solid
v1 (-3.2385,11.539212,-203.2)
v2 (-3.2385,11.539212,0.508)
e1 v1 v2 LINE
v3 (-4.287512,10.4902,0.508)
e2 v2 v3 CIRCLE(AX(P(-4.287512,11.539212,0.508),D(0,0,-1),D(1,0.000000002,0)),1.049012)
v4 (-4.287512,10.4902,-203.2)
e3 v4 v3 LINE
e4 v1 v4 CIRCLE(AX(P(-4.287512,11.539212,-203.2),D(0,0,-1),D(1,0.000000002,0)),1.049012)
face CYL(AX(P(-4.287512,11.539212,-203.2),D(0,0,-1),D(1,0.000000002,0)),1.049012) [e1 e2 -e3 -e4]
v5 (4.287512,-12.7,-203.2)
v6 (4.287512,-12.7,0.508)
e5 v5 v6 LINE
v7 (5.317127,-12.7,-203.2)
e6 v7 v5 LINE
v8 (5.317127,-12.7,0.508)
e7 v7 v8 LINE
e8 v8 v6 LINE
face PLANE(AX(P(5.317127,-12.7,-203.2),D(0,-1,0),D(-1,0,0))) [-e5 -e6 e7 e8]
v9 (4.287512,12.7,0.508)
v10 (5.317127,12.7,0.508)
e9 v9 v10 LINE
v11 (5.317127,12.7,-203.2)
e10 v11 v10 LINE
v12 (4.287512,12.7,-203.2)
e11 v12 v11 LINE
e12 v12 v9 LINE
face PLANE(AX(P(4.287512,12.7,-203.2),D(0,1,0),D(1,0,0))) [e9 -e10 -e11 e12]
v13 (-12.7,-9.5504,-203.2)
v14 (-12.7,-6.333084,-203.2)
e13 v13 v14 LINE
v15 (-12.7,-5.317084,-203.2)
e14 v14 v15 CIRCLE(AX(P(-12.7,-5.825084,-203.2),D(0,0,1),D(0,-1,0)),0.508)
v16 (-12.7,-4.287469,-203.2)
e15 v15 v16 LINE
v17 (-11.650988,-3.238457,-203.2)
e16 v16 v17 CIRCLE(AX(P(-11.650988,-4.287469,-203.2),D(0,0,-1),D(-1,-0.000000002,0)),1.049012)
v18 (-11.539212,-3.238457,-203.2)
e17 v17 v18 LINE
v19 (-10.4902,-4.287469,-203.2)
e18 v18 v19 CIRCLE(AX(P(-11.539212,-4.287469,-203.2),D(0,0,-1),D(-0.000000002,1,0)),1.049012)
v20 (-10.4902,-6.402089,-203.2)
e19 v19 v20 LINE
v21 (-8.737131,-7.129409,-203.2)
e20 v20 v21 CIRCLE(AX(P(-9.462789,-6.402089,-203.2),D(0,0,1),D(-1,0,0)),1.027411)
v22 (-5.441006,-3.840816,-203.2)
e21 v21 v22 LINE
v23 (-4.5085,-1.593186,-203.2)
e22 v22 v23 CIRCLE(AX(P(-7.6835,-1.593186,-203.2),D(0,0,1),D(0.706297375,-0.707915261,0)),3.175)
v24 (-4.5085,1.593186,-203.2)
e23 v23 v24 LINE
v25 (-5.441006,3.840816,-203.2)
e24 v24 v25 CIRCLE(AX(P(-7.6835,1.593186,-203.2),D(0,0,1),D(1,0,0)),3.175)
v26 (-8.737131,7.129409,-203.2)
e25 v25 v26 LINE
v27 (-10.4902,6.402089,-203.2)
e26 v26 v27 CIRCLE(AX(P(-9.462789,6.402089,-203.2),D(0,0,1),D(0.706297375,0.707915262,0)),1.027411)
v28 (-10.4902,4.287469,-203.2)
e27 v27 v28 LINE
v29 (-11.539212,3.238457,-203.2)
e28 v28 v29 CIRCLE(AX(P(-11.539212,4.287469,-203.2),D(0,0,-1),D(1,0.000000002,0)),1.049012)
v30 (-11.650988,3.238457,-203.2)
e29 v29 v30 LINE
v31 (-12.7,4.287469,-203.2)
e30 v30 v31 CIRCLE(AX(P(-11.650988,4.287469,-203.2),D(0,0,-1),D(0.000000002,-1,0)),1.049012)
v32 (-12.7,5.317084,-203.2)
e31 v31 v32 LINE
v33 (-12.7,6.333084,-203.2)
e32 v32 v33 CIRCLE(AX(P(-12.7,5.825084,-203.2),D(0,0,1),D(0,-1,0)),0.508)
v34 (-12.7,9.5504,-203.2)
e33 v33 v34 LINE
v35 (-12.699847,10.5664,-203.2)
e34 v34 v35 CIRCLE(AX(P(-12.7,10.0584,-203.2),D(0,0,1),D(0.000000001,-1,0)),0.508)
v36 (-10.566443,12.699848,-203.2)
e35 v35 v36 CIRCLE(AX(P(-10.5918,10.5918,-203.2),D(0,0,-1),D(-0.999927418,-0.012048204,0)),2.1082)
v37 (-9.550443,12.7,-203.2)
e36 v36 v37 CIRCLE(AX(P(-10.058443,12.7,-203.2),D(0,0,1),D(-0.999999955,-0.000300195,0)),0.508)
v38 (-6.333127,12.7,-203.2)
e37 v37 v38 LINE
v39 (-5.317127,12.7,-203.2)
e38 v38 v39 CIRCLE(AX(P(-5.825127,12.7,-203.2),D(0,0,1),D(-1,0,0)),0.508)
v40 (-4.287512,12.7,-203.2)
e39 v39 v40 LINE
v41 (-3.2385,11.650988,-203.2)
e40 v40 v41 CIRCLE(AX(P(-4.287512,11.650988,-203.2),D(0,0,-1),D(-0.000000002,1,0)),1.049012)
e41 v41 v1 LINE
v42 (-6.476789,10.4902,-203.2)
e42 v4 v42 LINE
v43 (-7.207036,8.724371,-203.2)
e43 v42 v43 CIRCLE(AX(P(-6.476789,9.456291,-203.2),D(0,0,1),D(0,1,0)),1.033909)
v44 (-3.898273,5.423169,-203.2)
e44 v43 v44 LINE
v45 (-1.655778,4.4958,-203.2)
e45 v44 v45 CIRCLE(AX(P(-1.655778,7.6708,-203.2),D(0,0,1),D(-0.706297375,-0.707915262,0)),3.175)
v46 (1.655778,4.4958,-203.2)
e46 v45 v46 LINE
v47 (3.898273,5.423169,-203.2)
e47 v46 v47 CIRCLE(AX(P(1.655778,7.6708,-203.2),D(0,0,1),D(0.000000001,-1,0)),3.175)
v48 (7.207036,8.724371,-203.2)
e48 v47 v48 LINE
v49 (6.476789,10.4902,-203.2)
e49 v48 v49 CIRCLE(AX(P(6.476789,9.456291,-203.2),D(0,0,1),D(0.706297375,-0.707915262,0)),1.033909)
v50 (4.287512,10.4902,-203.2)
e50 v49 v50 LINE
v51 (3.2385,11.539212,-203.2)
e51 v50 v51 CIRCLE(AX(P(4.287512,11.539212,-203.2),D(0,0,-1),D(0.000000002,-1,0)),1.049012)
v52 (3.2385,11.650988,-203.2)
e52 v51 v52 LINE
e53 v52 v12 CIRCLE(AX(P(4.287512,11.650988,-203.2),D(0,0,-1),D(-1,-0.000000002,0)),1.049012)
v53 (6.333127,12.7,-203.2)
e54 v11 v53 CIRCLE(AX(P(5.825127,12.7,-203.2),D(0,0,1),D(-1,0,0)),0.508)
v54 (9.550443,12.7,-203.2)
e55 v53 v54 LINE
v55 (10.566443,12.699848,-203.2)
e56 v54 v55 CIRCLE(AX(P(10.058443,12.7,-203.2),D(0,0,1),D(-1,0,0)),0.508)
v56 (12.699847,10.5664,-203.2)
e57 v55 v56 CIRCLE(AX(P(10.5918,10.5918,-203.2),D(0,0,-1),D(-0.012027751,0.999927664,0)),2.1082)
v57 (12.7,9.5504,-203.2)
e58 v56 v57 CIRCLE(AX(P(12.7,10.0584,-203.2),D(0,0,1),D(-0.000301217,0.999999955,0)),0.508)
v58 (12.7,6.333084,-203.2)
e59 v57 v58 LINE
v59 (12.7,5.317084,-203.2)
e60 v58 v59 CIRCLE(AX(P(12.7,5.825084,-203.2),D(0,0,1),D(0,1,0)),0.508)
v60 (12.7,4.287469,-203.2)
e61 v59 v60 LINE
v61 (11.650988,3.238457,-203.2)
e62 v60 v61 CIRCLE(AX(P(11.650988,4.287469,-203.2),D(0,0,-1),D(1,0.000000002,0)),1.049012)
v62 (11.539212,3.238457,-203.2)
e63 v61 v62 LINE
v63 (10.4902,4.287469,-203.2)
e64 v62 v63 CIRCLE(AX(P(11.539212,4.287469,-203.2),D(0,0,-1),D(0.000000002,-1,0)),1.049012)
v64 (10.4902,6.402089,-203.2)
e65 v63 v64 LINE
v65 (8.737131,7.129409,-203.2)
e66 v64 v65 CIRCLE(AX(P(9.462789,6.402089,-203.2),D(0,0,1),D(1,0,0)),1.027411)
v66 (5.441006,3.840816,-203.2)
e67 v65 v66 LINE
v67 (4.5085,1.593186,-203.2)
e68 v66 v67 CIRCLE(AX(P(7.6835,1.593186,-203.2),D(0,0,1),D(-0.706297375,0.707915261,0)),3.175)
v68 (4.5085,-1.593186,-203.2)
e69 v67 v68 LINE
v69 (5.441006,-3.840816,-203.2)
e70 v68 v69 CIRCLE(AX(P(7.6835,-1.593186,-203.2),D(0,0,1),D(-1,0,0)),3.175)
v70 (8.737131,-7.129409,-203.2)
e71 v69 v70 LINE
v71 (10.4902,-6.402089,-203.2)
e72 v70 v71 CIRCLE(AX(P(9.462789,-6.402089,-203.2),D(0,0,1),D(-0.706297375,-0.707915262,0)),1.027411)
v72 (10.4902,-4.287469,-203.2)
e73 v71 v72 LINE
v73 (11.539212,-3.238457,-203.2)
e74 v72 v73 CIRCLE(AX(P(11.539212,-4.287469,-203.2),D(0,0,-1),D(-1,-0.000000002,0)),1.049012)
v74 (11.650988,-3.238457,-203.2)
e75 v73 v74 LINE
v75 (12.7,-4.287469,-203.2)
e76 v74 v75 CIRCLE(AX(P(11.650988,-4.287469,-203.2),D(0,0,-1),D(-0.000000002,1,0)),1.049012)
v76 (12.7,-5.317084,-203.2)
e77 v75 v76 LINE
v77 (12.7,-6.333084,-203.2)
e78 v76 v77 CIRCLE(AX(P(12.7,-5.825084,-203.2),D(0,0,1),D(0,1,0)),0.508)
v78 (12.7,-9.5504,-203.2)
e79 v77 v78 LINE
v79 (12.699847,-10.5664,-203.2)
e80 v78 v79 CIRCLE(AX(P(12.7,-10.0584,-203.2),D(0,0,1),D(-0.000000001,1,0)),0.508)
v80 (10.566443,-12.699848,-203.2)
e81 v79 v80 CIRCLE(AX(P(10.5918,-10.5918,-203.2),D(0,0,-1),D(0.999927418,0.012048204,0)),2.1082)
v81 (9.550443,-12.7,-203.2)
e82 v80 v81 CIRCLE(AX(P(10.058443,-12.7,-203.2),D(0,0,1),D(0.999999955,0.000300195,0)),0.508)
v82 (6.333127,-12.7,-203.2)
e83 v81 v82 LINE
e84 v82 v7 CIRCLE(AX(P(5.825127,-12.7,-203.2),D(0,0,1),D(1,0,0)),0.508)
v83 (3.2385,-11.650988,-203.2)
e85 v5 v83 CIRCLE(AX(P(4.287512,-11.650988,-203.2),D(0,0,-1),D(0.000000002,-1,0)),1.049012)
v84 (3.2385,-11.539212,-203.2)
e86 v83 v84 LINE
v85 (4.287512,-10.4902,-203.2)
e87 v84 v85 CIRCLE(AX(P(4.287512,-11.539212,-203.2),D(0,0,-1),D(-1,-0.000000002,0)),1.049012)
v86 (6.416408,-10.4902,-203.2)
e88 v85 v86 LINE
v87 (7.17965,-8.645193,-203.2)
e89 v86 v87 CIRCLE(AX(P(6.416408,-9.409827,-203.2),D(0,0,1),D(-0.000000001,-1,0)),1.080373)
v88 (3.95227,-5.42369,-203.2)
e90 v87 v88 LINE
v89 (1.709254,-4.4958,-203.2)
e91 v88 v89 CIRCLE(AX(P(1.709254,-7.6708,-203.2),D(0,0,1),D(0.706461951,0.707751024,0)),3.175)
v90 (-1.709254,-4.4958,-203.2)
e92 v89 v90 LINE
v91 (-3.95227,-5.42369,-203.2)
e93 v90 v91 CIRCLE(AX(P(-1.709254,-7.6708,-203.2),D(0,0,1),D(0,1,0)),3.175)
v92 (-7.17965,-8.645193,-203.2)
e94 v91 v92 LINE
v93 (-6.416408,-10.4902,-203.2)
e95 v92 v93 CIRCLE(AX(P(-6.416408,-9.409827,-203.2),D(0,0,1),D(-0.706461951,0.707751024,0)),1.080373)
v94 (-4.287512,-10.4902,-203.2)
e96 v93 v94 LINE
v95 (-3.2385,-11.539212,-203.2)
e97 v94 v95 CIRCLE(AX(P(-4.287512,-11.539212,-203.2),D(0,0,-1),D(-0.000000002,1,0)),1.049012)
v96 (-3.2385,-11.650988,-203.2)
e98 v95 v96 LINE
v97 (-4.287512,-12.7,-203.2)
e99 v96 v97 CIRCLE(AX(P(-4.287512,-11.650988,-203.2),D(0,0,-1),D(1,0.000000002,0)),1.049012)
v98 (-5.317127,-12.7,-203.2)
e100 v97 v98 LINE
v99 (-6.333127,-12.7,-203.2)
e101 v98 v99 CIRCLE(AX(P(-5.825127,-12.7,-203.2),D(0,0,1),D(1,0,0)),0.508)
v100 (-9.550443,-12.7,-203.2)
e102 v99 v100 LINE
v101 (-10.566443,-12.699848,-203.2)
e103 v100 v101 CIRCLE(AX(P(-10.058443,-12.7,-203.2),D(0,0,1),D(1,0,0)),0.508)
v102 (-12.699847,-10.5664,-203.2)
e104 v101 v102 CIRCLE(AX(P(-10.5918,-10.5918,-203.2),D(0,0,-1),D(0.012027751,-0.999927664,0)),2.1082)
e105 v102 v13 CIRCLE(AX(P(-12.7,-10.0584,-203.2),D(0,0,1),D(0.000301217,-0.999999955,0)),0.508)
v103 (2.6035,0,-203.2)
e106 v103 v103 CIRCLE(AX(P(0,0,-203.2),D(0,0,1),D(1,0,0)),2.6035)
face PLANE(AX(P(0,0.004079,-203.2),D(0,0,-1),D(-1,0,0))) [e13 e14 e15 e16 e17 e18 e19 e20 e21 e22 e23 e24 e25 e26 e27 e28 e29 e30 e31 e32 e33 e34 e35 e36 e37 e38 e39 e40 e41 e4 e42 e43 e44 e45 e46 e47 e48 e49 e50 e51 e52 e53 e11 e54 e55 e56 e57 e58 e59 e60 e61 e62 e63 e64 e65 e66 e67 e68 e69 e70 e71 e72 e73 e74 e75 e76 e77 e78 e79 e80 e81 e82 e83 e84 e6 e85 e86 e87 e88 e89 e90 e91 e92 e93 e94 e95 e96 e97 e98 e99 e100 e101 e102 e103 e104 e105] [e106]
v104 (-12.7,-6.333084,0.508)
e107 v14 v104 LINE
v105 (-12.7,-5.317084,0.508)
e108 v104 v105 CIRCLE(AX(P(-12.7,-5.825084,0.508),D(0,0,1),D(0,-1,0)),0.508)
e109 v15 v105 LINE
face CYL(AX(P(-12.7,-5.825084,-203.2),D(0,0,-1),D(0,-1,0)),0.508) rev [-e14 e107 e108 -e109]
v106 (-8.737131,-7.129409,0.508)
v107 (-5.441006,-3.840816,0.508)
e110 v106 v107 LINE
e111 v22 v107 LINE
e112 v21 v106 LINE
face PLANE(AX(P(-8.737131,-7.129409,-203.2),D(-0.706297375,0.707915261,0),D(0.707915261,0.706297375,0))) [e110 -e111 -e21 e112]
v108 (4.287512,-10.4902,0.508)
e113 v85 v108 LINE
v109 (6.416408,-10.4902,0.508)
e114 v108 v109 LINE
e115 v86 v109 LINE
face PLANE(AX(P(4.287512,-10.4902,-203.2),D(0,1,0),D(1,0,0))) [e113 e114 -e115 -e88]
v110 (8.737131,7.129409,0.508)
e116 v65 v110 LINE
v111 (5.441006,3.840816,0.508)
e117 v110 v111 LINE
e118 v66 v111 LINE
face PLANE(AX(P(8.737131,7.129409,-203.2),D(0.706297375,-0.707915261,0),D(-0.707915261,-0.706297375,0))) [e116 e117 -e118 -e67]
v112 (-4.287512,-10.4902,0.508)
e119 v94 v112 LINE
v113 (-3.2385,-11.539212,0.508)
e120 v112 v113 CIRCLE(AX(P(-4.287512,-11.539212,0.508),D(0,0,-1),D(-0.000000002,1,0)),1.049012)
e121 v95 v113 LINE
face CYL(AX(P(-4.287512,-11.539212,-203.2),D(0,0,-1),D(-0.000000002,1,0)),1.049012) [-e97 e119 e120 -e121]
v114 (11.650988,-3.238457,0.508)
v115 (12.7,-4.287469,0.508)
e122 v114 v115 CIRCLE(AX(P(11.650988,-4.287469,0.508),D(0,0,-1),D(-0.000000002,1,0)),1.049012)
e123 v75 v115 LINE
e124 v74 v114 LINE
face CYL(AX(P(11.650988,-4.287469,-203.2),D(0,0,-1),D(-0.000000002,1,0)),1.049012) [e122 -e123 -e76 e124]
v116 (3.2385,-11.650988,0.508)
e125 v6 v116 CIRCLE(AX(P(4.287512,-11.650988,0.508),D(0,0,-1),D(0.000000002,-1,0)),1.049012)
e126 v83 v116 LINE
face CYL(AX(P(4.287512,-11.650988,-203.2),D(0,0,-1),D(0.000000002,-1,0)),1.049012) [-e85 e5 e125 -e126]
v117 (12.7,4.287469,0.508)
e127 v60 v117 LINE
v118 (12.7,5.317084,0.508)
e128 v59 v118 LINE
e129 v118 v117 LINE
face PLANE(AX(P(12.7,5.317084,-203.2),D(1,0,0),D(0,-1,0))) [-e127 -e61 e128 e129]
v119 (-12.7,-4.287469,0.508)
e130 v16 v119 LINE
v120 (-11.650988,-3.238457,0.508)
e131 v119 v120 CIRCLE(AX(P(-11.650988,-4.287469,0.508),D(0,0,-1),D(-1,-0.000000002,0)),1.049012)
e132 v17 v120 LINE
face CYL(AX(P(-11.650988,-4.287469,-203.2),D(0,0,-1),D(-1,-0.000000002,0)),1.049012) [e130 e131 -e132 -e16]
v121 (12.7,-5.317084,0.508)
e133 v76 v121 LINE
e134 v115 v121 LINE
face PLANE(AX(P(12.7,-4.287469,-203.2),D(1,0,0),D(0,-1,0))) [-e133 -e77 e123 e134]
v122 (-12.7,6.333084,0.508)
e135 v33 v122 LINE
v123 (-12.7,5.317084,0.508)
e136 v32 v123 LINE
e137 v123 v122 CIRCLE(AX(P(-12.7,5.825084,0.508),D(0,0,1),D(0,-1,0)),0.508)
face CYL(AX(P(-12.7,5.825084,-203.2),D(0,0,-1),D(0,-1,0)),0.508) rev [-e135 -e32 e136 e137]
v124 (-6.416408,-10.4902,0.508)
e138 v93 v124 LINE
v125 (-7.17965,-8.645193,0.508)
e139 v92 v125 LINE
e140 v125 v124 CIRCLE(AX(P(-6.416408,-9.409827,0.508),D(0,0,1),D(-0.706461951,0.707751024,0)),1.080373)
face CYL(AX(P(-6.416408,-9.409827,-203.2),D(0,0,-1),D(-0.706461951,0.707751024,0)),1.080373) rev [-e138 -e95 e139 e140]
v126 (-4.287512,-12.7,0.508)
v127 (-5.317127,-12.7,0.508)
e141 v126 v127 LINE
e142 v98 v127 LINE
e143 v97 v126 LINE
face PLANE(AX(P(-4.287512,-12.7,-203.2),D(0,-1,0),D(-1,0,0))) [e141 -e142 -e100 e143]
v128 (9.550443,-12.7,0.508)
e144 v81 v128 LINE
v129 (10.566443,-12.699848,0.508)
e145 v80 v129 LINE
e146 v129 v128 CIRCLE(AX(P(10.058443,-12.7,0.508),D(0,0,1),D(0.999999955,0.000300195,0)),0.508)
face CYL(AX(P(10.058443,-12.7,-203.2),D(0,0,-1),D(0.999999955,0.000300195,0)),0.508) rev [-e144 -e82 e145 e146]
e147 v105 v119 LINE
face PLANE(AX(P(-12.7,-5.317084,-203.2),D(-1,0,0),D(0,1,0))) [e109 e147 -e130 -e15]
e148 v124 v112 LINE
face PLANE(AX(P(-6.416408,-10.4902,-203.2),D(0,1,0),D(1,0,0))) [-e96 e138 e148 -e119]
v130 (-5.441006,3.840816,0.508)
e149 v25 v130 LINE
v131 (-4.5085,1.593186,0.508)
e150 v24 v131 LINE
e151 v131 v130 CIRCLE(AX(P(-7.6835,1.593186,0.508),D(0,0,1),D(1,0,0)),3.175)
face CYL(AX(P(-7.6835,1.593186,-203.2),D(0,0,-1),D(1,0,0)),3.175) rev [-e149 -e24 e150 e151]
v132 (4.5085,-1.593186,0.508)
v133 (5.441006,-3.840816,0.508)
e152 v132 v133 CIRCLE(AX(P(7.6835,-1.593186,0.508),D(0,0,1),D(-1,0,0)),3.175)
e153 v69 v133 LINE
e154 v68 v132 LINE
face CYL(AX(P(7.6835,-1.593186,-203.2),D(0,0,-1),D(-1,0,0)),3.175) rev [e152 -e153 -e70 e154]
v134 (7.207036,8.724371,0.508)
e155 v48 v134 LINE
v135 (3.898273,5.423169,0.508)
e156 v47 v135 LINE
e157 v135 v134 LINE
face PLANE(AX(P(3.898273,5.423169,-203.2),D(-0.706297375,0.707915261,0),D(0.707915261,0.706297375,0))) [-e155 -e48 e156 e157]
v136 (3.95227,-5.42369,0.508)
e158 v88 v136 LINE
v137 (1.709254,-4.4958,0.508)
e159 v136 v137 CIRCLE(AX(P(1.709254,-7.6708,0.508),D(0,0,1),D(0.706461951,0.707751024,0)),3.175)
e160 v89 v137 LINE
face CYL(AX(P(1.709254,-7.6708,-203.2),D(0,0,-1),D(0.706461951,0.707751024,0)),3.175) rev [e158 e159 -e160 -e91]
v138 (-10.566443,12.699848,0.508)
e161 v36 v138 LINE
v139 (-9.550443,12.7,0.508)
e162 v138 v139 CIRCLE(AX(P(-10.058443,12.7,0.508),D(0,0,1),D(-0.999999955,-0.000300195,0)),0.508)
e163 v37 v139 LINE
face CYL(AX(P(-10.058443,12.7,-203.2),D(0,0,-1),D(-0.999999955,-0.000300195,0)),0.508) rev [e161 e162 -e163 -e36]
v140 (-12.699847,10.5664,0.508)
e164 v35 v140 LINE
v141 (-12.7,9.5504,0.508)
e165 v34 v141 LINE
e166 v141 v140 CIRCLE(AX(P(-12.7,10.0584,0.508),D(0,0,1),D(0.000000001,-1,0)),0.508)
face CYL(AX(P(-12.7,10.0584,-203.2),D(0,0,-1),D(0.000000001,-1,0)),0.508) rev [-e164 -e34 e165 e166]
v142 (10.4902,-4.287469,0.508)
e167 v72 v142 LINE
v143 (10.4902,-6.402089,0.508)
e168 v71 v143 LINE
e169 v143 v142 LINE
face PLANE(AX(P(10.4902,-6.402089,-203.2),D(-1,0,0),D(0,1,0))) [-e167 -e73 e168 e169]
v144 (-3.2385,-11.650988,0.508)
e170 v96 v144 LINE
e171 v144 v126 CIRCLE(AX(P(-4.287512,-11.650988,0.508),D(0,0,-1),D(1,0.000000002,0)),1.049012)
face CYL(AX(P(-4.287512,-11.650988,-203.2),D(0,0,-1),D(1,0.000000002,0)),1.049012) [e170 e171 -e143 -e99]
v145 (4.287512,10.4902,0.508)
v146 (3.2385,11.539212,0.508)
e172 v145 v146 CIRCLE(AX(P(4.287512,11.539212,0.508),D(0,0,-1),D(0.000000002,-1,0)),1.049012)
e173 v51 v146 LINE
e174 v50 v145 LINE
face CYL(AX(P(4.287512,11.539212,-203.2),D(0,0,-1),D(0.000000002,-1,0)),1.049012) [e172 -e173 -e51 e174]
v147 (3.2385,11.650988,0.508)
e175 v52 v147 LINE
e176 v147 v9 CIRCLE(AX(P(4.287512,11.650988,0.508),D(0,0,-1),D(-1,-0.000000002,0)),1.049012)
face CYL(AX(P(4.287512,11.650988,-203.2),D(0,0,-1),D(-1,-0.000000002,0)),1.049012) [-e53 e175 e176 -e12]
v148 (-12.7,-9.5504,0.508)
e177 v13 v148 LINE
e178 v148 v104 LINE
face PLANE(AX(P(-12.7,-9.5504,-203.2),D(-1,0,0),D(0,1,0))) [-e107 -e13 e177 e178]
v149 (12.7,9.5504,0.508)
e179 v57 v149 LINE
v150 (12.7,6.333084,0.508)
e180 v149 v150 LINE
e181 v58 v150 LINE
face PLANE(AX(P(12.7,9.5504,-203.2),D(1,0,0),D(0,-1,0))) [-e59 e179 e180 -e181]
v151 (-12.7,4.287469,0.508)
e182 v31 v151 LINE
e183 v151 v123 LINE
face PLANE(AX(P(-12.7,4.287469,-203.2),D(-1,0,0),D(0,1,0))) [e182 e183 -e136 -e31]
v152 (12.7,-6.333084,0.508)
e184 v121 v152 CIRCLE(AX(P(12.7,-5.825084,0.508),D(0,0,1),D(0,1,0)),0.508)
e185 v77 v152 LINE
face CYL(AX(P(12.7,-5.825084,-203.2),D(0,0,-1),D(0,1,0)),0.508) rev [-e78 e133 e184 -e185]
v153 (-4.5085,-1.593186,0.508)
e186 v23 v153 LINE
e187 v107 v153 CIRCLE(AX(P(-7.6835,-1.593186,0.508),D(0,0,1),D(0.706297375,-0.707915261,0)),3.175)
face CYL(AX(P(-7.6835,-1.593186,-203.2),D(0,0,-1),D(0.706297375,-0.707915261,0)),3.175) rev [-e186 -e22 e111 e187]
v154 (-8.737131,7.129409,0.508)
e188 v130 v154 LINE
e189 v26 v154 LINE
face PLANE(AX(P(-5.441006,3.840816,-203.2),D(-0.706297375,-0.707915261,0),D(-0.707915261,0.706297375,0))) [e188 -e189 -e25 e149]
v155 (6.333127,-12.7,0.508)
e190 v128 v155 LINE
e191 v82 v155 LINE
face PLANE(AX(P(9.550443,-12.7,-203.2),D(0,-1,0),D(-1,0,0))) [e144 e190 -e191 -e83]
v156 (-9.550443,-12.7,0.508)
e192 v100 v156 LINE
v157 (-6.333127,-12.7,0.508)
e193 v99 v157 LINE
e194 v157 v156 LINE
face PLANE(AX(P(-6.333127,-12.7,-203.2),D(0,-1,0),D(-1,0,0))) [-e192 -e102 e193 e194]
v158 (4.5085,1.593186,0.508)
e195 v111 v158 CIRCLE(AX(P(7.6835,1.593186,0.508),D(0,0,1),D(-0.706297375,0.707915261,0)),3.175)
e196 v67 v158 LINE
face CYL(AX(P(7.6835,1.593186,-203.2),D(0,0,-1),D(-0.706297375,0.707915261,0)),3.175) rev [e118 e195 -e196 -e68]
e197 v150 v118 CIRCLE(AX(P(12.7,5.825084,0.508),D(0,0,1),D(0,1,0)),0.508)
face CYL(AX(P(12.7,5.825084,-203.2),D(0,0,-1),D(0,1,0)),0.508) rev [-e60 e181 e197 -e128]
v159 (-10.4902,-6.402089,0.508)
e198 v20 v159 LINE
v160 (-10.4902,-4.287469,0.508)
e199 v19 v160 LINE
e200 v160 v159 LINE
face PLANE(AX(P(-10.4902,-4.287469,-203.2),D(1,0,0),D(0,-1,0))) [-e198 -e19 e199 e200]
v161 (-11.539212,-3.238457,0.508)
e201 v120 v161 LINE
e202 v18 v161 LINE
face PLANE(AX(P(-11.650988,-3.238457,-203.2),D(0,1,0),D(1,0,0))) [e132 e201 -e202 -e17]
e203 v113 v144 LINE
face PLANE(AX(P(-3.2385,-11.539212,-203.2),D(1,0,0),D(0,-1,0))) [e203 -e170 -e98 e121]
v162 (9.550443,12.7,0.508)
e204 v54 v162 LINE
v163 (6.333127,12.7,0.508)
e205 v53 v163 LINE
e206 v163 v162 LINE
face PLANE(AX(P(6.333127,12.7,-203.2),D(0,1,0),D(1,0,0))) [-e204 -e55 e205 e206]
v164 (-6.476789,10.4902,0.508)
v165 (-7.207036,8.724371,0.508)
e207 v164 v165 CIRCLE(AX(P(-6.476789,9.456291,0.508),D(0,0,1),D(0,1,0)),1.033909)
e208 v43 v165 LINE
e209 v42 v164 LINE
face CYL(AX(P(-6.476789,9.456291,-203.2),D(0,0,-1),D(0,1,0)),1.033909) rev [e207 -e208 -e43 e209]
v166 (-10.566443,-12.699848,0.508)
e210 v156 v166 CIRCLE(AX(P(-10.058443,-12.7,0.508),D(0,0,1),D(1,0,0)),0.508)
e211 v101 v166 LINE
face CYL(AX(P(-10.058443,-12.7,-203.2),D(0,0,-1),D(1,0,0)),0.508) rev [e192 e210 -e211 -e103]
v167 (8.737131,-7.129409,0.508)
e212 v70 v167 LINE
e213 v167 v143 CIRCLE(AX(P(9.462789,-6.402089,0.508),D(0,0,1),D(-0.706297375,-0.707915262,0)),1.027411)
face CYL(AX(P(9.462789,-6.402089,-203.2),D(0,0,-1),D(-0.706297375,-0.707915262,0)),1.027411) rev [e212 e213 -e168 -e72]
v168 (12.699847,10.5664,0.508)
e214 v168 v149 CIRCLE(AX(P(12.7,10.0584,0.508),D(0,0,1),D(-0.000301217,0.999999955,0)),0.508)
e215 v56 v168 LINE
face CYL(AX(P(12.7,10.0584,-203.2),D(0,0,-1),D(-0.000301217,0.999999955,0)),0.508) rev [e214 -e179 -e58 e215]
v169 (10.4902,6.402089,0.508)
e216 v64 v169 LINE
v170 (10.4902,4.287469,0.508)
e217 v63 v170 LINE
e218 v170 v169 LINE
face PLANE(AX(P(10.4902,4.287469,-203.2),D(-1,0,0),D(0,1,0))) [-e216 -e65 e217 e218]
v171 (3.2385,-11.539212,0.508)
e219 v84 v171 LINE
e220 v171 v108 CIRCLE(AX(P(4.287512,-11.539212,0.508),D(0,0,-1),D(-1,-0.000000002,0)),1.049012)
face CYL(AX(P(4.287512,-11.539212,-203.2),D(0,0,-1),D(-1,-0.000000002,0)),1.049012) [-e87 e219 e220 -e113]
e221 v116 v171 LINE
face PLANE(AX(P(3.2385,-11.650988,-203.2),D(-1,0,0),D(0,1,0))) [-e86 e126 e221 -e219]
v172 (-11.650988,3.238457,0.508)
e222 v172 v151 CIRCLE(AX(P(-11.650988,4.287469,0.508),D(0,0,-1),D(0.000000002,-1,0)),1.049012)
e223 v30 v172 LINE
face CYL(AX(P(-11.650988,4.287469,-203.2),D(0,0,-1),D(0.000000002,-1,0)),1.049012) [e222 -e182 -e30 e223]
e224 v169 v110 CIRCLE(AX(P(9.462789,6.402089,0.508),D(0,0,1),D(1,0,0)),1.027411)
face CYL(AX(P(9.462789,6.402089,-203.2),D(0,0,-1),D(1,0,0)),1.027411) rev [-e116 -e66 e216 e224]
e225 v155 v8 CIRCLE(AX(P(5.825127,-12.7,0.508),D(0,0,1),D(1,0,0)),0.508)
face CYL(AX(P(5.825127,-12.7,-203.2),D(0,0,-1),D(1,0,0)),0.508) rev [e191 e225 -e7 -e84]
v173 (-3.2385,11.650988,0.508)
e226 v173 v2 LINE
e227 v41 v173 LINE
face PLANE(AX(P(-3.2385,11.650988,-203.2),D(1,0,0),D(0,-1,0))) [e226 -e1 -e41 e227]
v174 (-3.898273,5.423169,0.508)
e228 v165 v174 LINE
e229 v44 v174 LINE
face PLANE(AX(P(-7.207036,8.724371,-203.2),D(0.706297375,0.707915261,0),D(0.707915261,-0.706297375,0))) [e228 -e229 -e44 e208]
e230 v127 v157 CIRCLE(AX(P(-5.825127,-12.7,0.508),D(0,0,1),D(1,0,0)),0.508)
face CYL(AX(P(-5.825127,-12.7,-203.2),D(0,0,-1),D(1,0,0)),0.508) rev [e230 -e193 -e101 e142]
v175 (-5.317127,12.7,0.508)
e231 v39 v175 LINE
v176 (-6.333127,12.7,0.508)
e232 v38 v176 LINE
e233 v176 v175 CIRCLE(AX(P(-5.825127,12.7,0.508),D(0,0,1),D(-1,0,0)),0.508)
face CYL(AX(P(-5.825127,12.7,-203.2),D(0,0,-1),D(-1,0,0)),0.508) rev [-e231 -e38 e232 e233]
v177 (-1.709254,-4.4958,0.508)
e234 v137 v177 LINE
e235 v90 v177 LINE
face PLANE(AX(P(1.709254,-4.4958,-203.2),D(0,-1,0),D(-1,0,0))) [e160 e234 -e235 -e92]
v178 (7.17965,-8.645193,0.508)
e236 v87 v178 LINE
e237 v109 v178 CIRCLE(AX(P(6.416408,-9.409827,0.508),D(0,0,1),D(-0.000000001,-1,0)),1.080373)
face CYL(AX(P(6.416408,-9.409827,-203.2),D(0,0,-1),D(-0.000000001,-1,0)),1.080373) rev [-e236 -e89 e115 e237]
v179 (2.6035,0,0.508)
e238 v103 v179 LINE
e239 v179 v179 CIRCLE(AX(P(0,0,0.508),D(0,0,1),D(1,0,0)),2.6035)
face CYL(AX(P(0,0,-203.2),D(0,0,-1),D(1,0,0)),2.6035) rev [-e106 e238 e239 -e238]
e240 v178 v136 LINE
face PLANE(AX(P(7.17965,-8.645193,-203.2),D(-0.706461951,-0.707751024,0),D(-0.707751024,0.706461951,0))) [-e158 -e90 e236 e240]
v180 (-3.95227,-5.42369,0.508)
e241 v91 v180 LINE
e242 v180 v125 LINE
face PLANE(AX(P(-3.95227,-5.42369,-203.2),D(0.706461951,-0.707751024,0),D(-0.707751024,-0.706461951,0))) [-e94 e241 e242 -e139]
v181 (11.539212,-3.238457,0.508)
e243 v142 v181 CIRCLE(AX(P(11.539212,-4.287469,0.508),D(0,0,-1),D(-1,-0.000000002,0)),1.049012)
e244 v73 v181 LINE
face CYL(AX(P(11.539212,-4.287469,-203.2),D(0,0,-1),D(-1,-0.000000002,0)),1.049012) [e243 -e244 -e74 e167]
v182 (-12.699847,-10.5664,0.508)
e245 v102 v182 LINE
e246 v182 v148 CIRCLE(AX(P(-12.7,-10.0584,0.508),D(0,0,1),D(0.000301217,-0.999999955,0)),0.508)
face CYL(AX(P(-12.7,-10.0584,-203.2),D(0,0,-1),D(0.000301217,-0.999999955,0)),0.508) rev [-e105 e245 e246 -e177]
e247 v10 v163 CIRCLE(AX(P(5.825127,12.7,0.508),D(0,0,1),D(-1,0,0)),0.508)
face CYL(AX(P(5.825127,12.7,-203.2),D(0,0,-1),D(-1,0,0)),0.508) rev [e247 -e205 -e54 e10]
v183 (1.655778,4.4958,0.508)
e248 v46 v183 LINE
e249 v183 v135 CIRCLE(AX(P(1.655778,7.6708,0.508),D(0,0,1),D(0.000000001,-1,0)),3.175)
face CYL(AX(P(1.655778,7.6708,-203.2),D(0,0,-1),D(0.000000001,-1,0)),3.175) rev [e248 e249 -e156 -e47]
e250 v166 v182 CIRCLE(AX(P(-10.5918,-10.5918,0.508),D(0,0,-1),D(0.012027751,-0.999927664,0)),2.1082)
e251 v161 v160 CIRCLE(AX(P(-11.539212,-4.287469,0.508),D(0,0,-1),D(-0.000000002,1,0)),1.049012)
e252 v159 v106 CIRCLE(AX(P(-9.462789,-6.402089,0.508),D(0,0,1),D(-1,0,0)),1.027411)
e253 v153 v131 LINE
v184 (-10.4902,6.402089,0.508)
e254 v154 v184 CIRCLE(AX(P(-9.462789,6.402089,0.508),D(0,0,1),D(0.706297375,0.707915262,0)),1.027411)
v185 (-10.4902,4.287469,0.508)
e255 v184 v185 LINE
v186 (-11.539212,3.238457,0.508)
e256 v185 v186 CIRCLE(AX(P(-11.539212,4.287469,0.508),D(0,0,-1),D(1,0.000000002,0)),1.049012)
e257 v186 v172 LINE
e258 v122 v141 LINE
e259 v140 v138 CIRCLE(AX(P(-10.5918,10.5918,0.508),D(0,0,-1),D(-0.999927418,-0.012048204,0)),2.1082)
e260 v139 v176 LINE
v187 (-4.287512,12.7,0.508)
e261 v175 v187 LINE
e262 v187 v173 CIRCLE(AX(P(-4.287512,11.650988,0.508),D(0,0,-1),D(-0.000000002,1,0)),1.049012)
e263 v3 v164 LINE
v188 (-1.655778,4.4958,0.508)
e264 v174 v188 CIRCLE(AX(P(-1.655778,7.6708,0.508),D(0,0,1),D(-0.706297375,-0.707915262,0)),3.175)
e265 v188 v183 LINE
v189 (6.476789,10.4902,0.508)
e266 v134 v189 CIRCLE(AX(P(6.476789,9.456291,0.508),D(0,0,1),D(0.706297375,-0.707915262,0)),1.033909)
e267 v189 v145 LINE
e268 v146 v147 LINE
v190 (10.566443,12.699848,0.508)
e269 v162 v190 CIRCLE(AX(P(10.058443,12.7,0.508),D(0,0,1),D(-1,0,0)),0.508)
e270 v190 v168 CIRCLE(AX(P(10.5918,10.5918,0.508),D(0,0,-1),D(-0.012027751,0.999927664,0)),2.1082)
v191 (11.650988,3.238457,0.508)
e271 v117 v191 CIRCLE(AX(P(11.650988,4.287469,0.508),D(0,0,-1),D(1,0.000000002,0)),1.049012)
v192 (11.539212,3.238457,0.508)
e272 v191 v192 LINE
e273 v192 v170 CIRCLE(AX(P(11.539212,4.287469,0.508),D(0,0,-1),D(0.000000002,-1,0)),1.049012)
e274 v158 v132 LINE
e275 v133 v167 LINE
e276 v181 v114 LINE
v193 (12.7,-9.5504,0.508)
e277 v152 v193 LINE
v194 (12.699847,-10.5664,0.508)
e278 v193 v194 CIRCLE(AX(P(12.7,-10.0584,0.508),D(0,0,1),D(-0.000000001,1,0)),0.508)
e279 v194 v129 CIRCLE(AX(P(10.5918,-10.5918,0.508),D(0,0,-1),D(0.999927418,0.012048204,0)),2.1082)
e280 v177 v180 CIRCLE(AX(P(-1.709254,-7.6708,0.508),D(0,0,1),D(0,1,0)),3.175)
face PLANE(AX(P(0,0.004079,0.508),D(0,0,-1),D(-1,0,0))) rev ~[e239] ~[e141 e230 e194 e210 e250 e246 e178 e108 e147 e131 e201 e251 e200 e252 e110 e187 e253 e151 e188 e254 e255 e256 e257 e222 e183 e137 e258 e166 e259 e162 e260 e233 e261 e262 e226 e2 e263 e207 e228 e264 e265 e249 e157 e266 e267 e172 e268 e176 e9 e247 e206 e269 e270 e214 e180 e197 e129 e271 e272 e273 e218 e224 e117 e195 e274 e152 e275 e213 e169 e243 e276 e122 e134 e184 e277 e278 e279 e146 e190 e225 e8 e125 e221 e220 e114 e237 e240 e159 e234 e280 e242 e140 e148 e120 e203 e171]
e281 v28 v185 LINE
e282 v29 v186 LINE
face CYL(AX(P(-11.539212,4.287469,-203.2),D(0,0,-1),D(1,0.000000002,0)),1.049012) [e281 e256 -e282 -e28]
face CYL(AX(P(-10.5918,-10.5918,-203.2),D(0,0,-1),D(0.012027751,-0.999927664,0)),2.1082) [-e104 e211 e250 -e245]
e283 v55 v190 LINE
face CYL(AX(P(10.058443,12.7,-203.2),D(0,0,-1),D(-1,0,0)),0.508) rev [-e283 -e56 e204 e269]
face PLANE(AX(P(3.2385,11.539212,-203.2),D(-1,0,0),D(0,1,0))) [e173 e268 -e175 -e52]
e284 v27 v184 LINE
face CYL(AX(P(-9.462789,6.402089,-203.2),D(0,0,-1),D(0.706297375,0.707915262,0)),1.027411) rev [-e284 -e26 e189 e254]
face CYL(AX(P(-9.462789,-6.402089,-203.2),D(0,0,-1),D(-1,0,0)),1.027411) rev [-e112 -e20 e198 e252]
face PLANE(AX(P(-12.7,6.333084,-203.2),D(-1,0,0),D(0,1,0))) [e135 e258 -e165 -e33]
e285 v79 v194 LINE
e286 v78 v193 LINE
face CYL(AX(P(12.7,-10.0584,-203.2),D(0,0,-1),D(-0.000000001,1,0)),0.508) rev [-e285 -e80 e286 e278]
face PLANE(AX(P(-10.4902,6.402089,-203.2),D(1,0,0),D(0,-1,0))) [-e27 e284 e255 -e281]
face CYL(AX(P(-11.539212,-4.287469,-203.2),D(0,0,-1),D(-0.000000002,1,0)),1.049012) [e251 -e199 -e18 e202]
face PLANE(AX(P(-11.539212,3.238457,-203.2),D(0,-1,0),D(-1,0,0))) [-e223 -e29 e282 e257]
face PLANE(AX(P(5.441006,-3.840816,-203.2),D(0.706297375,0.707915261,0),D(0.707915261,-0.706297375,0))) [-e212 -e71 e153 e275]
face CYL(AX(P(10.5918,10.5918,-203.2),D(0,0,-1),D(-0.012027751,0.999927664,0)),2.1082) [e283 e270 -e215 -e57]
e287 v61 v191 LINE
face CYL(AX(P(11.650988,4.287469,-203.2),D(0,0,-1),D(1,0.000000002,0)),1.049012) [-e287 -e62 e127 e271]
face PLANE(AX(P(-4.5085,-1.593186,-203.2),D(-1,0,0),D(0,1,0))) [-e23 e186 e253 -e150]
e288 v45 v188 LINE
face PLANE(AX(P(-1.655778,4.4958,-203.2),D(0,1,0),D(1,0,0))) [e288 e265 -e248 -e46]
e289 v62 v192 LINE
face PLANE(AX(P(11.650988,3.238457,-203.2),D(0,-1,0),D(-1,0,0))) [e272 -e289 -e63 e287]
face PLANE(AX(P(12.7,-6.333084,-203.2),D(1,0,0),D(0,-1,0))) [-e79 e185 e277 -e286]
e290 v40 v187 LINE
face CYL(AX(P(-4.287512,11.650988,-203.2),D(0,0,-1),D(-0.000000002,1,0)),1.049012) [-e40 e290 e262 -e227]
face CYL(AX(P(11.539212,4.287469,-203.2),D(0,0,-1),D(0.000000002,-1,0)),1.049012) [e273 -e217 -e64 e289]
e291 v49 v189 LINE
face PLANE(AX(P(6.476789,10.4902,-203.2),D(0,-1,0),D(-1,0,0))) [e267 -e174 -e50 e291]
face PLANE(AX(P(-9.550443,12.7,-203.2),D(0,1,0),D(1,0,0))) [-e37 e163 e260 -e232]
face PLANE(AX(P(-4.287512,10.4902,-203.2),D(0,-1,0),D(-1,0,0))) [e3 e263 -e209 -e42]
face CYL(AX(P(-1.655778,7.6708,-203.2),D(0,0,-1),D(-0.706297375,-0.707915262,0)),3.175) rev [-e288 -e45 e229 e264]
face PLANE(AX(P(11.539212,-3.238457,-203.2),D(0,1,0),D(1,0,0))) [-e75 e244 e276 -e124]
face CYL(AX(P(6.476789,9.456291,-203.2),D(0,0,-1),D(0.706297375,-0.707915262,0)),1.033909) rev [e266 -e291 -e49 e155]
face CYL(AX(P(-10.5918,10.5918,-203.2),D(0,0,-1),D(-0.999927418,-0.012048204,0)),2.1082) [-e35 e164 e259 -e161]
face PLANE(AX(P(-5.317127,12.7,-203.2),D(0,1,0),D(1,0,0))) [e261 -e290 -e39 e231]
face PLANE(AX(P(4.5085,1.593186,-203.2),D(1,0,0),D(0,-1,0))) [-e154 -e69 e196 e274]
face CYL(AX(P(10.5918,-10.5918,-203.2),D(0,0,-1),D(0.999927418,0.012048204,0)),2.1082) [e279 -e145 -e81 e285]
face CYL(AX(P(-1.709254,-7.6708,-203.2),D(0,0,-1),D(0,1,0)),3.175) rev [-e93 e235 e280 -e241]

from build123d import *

# Parameters (mm, degrees)
EXTRUDE1_DEPTH      = 0.508
EXTRUDE1_DEPTH_BACK = 203.2
SKETCH1_R           = 2.6035


with BuildPart() as part:
    # Sketch1 → Extrude1 (new, two sides: drawn at the far end of the back side and taken through both)
    with BuildSketch(Plane.XY.offset(-EXTRUDE1_DEPTH_BACK)):
        with BuildLine():
            Line((-7.207036008, 8.724370562), (-3.898272566, 5.423169045))
            ThreePointArc((-3.898272566, 5.423169045), (-2.869120213, 4.736787962), (-1.655778399, 4.4958))
            Line((-1.655778399, 4.4958), (1.655778399, 4.4958))
            ThreePointArc((1.655778399, 4.4958), (2.869120213, 4.736787962), (3.898272566, 5.423169045))
            Line((3.898272566, 5.423169045), (7.207036008, 8.724370562))
            ThreePointArc((7.207036008, 8.724370562), (7.432222385, 9.85140422), (6.476788598, 10.4902))
            Line((6.476788598, 10.4902), (4.287512407, 10.4902))
            ThreePointArc((4.287512407, 10.4902), (3.54574862, 10.79744862), (3.2385, 11.539212407))
            Line((3.2385, 11.539212407), (3.2385, 11.650987593))
            ThreePointArc((3.2385, 11.650987593), (3.54574862, 12.39275138), (4.287512407, 12.7))
            Line((4.287512407, 12.7), (5.317126718, 12.7))
            ThreePointArc((5.317126718, 12.7), (5.825126718, 12.192), (6.333126718, 12.7))
            Line((6.333126718, 12.7), (9.550443118, 12.7))
            ThreePointArc((9.550443118, 12.7), (10.058366869, 12.192000006), (10.566443095, 12.699847501))
            ThreePointArc((10.566443095, 12.699847501), (12.082537762, 12.08250727), (12.699846982, 10.566399977))
            ThreePointArc((12.699846982, 10.566399977), (12.192000006, 10.058323491), (12.7, 9.5504))
            Line((12.7, 9.5504), (12.7, 6.3330836))
            ThreePointArc((12.7, 6.3330836), (12.192, 5.8250836), (12.7, 5.3170836))
            Line((12.7, 5.3170836), (12.7, 4.287469289))
            ThreePointArc((12.7, 4.287469289), (12.39275138, 3.545705502), (11.650987593, 3.238456882))
            Line((11.650987593, 3.238456882), (11.539212407, 3.238456882))
            ThreePointArc((11.539212407, 3.238456882), (10.79744862, 3.545705502), (10.4902, 4.287469289))
            Line((10.4902, 4.287469289), (10.4902, 6.402089023))
            ThreePointArc((10.4902, 6.402089023), (9.856505071, 7.351067942), (8.737131347, 7.129408934))
            Line((8.737131347, 7.129408934), (5.441005833, 3.840816462))
            ThreePointArc((5.441005833, 3.840816462), (4.750877967, 2.809883091), (4.5085, 1.593185507))
            Line((4.5085, 1.593185507), (4.5085, -1.593185507))
            ThreePointArc((4.5085, -1.593185507), (4.750877967, -2.809883091), (5.441005833, -3.840816462))
            Line((5.441005833, -3.840816462), (8.737131347, -7.129408934))
            ThreePointArc((8.737131347, -7.129408934), (9.856505071, -7.351067942), (10.4902, -6.402089023))
            Line((10.4902, -6.402089023), (10.4902, -4.287469289))
            ThreePointArc((10.4902, -4.287469289), (10.79744862, -3.545705502), (11.539212407, -3.238456882))
            Line((11.539212407, -3.238456882), (11.650987593, -3.238456882))
            ThreePointArc((11.650987593, -3.238456882), (12.39275138, -3.545705502), (12.7, -4.287469289))
            Line((12.7, -4.287469289), (12.7, -5.3170836))
            ThreePointArc((12.7, -5.3170836), (12.192, -5.8250836), (12.7, -6.3330836))
            Line((12.7, -6.3330836), (12.7, -9.5504))
            ThreePointArc((12.7, -9.5504), (12.192000006, -10.058323491), (12.699846982, -10.566399977))
            ThreePointArc((12.699846982, -10.566399977), (12.082537762, -12.08250727), (10.566443095, -12.699847501))
            ThreePointArc((10.566443095, -12.699847501), (10.058366869, -12.192000006), (9.550443118, -12.7))
            Line((9.550443118, -12.7), (6.333126718, -12.7))
            ThreePointArc((6.333126718, -12.7), (5.825126718, -12.192), (5.317126718, -12.7))
            Line((5.317126718, -12.7), (4.287512407, -12.7))
            ThreePointArc((4.287512407, -12.7), (3.54574862, -12.39275138), (3.2385, -11.650987593))
            Line((3.2385, -11.650987593), (3.2385, -11.539212407))
            ThreePointArc((3.2385, -11.539212407), (3.54574862, -10.79744862), (4.287512407, -10.4902))
            Line((4.287512407, -10.4902), (6.416408329, -10.4902))
            ThreePointArc((6.416408329, -10.4902), (7.41473083, -9.822813117), (7.179650497, -8.645192506))
            Line((7.179650497, -8.645192506), (3.952270251, -5.423690499))
            ThreePointArc((3.952270251, -5.423690499), (2.922936451, -4.736929036), (1.709253557, -4.4958))
            Line((1.709253557, -4.4958), (-1.709253557, -4.4958))
            ThreePointArc((-1.709253557, -4.4958), (-2.922936451, -4.736929036), (-3.952270251, -5.423690499))
            Line((-3.952270251, -5.423690499), (-7.179650497, -8.645192506))
            ThreePointArc((-7.179650497, -8.645192506), (-7.41473083, -9.822813117), (-6.416408329, -10.4902))
            Line((-6.416408329, -10.4902), (-4.287512407, -10.4902))
            ThreePointArc((-4.287512407, -10.4902), (-3.54574862, -10.79744862), (-3.2385, -11.539212407))
            Line((-3.2385, -11.539212407), (-3.2385, -11.650987593))
            ThreePointArc((-3.2385, -11.650987593), (-3.54574862, -12.39275138), (-4.287512407, -12.7))
            Line((-4.287512407, -12.7), (-5.317126718, -12.7))
            ThreePointArc((-5.317126718, -12.7), (-5.825126718, -12.192), (-6.333126718, -12.7))
            Line((-6.333126718, -12.7), (-9.550443118, -12.7))
            ThreePointArc((-9.550443118, -12.7), (-10.058366869, -12.192000006), (-10.566443095, -12.699847501))
            ThreePointArc((-10.566443095, -12.699847501), (-12.082537762, -12.08250727), (-12.699846982, -10.566399977))
            ThreePointArc((-12.699846982, -10.566399977), (-12.192000006, -10.058323491), (-12.7, -9.5504))
            Line((-12.7, -9.5504), (-12.7, -6.3330836))
            ThreePointArc((-12.7, -6.3330836), (-12.192, -5.8250836), (-12.7, -5.3170836))
            Line((-12.7, -5.3170836), (-12.7, -4.287469289))
            ThreePointArc((-12.7, -4.287469289), (-12.39275138, -3.545705502), (-11.650987593, -3.238456882))
            Line((-11.650987593, -3.238456882), (-11.539212407, -3.238456882))
            ThreePointArc((-11.539212407, -3.238456882), (-10.79744862, -3.545705502), (-10.4902, -4.287469289))
            Line((-10.4902, -4.287469289), (-10.4902, -6.402089023))
            ThreePointArc((-10.4902, -6.402089023), (-9.856505071, -7.351067942), (-8.737131347, -7.129408934))
            Line((-8.737131347, -7.129408934), (-5.441005833, -3.840816462))
            ThreePointArc((-5.441005833, -3.840816462), (-4.750877967, -2.809883091), (-4.5085, -1.593185507))
            Line((-4.5085, -1.593185507), (-4.5085, 1.593185507))
            ThreePointArc((-4.5085, 1.593185507), (-4.750877967, 2.809883091), (-5.441005833, 3.840816462))
            Line((-5.441005833, 3.840816462), (-8.737131347, 7.129408934))
            ThreePointArc((-8.737131347, 7.129408934), (-9.856505071, 7.351067942), (-10.4902, 6.402089023))
            Line((-10.4902, 6.402089023), (-10.4902, 4.287469289))
            ThreePointArc((-10.4902, 4.287469289), (-10.79744862, 3.545705502), (-11.539212407, 3.238456882))
            Line((-11.539212407, 3.238456882), (-11.650987593, 3.238456882))
            ThreePointArc((-11.650987593, 3.238456882), (-12.39275138, 3.545705502), (-12.7, 4.287469289))
            Line((-12.7, 4.287469289), (-12.7, 5.3170836))
            ThreePointArc((-12.7, 5.3170836), (-12.192, 5.8250836), (-12.7, 6.3330836))
            Line((-12.7, 6.3330836), (-12.7, 9.5504))
            ThreePointArc((-12.7, 9.5504), (-12.192000006, 10.058323491), (-12.699846982, 10.566399977))
            ThreePointArc((-12.699846982, 10.566399977), (-12.082537762, 12.08250727), (-10.566443095, 12.699847501))
            ThreePointArc((-10.566443095, 12.699847501), (-10.058366869, 12.192000006), (-9.550443118, 12.7))
            Line((-9.550443118, 12.7), (-6.333126718, 12.7))
            ThreePointArc((-6.333126718, 12.7), (-5.825126718, 12.192), (-5.317126718, 12.7))
            Line((-5.317126718, 12.7), (-4.287512407, 12.7))
            ThreePointArc((-4.287512407, 12.7), (-3.54574862, 12.39275138), (-3.2385, 11.650987593))
            Line((-3.2385, 11.650987593), (-3.2385, 11.539212407))
            ThreePointArc((-3.2385, 11.539212407), (-3.54574862, 10.79744862), (-4.287512407, 10.4902))
            Line((-4.287512407, 10.4902), (-6.476788598, 10.4902))
            ThreePointArc((-6.476788598, 10.4902), (-7.432222385, 9.85140422), (-7.207036008, 8.724370562))
        make_face()
        Circle(SKETCH1_R, mode=Mode.SUBTRACT)
    extrude(amount=EXTRUDE1_DEPTH + EXTRUDE1_DEPTH_BACK)


solid = part.part
